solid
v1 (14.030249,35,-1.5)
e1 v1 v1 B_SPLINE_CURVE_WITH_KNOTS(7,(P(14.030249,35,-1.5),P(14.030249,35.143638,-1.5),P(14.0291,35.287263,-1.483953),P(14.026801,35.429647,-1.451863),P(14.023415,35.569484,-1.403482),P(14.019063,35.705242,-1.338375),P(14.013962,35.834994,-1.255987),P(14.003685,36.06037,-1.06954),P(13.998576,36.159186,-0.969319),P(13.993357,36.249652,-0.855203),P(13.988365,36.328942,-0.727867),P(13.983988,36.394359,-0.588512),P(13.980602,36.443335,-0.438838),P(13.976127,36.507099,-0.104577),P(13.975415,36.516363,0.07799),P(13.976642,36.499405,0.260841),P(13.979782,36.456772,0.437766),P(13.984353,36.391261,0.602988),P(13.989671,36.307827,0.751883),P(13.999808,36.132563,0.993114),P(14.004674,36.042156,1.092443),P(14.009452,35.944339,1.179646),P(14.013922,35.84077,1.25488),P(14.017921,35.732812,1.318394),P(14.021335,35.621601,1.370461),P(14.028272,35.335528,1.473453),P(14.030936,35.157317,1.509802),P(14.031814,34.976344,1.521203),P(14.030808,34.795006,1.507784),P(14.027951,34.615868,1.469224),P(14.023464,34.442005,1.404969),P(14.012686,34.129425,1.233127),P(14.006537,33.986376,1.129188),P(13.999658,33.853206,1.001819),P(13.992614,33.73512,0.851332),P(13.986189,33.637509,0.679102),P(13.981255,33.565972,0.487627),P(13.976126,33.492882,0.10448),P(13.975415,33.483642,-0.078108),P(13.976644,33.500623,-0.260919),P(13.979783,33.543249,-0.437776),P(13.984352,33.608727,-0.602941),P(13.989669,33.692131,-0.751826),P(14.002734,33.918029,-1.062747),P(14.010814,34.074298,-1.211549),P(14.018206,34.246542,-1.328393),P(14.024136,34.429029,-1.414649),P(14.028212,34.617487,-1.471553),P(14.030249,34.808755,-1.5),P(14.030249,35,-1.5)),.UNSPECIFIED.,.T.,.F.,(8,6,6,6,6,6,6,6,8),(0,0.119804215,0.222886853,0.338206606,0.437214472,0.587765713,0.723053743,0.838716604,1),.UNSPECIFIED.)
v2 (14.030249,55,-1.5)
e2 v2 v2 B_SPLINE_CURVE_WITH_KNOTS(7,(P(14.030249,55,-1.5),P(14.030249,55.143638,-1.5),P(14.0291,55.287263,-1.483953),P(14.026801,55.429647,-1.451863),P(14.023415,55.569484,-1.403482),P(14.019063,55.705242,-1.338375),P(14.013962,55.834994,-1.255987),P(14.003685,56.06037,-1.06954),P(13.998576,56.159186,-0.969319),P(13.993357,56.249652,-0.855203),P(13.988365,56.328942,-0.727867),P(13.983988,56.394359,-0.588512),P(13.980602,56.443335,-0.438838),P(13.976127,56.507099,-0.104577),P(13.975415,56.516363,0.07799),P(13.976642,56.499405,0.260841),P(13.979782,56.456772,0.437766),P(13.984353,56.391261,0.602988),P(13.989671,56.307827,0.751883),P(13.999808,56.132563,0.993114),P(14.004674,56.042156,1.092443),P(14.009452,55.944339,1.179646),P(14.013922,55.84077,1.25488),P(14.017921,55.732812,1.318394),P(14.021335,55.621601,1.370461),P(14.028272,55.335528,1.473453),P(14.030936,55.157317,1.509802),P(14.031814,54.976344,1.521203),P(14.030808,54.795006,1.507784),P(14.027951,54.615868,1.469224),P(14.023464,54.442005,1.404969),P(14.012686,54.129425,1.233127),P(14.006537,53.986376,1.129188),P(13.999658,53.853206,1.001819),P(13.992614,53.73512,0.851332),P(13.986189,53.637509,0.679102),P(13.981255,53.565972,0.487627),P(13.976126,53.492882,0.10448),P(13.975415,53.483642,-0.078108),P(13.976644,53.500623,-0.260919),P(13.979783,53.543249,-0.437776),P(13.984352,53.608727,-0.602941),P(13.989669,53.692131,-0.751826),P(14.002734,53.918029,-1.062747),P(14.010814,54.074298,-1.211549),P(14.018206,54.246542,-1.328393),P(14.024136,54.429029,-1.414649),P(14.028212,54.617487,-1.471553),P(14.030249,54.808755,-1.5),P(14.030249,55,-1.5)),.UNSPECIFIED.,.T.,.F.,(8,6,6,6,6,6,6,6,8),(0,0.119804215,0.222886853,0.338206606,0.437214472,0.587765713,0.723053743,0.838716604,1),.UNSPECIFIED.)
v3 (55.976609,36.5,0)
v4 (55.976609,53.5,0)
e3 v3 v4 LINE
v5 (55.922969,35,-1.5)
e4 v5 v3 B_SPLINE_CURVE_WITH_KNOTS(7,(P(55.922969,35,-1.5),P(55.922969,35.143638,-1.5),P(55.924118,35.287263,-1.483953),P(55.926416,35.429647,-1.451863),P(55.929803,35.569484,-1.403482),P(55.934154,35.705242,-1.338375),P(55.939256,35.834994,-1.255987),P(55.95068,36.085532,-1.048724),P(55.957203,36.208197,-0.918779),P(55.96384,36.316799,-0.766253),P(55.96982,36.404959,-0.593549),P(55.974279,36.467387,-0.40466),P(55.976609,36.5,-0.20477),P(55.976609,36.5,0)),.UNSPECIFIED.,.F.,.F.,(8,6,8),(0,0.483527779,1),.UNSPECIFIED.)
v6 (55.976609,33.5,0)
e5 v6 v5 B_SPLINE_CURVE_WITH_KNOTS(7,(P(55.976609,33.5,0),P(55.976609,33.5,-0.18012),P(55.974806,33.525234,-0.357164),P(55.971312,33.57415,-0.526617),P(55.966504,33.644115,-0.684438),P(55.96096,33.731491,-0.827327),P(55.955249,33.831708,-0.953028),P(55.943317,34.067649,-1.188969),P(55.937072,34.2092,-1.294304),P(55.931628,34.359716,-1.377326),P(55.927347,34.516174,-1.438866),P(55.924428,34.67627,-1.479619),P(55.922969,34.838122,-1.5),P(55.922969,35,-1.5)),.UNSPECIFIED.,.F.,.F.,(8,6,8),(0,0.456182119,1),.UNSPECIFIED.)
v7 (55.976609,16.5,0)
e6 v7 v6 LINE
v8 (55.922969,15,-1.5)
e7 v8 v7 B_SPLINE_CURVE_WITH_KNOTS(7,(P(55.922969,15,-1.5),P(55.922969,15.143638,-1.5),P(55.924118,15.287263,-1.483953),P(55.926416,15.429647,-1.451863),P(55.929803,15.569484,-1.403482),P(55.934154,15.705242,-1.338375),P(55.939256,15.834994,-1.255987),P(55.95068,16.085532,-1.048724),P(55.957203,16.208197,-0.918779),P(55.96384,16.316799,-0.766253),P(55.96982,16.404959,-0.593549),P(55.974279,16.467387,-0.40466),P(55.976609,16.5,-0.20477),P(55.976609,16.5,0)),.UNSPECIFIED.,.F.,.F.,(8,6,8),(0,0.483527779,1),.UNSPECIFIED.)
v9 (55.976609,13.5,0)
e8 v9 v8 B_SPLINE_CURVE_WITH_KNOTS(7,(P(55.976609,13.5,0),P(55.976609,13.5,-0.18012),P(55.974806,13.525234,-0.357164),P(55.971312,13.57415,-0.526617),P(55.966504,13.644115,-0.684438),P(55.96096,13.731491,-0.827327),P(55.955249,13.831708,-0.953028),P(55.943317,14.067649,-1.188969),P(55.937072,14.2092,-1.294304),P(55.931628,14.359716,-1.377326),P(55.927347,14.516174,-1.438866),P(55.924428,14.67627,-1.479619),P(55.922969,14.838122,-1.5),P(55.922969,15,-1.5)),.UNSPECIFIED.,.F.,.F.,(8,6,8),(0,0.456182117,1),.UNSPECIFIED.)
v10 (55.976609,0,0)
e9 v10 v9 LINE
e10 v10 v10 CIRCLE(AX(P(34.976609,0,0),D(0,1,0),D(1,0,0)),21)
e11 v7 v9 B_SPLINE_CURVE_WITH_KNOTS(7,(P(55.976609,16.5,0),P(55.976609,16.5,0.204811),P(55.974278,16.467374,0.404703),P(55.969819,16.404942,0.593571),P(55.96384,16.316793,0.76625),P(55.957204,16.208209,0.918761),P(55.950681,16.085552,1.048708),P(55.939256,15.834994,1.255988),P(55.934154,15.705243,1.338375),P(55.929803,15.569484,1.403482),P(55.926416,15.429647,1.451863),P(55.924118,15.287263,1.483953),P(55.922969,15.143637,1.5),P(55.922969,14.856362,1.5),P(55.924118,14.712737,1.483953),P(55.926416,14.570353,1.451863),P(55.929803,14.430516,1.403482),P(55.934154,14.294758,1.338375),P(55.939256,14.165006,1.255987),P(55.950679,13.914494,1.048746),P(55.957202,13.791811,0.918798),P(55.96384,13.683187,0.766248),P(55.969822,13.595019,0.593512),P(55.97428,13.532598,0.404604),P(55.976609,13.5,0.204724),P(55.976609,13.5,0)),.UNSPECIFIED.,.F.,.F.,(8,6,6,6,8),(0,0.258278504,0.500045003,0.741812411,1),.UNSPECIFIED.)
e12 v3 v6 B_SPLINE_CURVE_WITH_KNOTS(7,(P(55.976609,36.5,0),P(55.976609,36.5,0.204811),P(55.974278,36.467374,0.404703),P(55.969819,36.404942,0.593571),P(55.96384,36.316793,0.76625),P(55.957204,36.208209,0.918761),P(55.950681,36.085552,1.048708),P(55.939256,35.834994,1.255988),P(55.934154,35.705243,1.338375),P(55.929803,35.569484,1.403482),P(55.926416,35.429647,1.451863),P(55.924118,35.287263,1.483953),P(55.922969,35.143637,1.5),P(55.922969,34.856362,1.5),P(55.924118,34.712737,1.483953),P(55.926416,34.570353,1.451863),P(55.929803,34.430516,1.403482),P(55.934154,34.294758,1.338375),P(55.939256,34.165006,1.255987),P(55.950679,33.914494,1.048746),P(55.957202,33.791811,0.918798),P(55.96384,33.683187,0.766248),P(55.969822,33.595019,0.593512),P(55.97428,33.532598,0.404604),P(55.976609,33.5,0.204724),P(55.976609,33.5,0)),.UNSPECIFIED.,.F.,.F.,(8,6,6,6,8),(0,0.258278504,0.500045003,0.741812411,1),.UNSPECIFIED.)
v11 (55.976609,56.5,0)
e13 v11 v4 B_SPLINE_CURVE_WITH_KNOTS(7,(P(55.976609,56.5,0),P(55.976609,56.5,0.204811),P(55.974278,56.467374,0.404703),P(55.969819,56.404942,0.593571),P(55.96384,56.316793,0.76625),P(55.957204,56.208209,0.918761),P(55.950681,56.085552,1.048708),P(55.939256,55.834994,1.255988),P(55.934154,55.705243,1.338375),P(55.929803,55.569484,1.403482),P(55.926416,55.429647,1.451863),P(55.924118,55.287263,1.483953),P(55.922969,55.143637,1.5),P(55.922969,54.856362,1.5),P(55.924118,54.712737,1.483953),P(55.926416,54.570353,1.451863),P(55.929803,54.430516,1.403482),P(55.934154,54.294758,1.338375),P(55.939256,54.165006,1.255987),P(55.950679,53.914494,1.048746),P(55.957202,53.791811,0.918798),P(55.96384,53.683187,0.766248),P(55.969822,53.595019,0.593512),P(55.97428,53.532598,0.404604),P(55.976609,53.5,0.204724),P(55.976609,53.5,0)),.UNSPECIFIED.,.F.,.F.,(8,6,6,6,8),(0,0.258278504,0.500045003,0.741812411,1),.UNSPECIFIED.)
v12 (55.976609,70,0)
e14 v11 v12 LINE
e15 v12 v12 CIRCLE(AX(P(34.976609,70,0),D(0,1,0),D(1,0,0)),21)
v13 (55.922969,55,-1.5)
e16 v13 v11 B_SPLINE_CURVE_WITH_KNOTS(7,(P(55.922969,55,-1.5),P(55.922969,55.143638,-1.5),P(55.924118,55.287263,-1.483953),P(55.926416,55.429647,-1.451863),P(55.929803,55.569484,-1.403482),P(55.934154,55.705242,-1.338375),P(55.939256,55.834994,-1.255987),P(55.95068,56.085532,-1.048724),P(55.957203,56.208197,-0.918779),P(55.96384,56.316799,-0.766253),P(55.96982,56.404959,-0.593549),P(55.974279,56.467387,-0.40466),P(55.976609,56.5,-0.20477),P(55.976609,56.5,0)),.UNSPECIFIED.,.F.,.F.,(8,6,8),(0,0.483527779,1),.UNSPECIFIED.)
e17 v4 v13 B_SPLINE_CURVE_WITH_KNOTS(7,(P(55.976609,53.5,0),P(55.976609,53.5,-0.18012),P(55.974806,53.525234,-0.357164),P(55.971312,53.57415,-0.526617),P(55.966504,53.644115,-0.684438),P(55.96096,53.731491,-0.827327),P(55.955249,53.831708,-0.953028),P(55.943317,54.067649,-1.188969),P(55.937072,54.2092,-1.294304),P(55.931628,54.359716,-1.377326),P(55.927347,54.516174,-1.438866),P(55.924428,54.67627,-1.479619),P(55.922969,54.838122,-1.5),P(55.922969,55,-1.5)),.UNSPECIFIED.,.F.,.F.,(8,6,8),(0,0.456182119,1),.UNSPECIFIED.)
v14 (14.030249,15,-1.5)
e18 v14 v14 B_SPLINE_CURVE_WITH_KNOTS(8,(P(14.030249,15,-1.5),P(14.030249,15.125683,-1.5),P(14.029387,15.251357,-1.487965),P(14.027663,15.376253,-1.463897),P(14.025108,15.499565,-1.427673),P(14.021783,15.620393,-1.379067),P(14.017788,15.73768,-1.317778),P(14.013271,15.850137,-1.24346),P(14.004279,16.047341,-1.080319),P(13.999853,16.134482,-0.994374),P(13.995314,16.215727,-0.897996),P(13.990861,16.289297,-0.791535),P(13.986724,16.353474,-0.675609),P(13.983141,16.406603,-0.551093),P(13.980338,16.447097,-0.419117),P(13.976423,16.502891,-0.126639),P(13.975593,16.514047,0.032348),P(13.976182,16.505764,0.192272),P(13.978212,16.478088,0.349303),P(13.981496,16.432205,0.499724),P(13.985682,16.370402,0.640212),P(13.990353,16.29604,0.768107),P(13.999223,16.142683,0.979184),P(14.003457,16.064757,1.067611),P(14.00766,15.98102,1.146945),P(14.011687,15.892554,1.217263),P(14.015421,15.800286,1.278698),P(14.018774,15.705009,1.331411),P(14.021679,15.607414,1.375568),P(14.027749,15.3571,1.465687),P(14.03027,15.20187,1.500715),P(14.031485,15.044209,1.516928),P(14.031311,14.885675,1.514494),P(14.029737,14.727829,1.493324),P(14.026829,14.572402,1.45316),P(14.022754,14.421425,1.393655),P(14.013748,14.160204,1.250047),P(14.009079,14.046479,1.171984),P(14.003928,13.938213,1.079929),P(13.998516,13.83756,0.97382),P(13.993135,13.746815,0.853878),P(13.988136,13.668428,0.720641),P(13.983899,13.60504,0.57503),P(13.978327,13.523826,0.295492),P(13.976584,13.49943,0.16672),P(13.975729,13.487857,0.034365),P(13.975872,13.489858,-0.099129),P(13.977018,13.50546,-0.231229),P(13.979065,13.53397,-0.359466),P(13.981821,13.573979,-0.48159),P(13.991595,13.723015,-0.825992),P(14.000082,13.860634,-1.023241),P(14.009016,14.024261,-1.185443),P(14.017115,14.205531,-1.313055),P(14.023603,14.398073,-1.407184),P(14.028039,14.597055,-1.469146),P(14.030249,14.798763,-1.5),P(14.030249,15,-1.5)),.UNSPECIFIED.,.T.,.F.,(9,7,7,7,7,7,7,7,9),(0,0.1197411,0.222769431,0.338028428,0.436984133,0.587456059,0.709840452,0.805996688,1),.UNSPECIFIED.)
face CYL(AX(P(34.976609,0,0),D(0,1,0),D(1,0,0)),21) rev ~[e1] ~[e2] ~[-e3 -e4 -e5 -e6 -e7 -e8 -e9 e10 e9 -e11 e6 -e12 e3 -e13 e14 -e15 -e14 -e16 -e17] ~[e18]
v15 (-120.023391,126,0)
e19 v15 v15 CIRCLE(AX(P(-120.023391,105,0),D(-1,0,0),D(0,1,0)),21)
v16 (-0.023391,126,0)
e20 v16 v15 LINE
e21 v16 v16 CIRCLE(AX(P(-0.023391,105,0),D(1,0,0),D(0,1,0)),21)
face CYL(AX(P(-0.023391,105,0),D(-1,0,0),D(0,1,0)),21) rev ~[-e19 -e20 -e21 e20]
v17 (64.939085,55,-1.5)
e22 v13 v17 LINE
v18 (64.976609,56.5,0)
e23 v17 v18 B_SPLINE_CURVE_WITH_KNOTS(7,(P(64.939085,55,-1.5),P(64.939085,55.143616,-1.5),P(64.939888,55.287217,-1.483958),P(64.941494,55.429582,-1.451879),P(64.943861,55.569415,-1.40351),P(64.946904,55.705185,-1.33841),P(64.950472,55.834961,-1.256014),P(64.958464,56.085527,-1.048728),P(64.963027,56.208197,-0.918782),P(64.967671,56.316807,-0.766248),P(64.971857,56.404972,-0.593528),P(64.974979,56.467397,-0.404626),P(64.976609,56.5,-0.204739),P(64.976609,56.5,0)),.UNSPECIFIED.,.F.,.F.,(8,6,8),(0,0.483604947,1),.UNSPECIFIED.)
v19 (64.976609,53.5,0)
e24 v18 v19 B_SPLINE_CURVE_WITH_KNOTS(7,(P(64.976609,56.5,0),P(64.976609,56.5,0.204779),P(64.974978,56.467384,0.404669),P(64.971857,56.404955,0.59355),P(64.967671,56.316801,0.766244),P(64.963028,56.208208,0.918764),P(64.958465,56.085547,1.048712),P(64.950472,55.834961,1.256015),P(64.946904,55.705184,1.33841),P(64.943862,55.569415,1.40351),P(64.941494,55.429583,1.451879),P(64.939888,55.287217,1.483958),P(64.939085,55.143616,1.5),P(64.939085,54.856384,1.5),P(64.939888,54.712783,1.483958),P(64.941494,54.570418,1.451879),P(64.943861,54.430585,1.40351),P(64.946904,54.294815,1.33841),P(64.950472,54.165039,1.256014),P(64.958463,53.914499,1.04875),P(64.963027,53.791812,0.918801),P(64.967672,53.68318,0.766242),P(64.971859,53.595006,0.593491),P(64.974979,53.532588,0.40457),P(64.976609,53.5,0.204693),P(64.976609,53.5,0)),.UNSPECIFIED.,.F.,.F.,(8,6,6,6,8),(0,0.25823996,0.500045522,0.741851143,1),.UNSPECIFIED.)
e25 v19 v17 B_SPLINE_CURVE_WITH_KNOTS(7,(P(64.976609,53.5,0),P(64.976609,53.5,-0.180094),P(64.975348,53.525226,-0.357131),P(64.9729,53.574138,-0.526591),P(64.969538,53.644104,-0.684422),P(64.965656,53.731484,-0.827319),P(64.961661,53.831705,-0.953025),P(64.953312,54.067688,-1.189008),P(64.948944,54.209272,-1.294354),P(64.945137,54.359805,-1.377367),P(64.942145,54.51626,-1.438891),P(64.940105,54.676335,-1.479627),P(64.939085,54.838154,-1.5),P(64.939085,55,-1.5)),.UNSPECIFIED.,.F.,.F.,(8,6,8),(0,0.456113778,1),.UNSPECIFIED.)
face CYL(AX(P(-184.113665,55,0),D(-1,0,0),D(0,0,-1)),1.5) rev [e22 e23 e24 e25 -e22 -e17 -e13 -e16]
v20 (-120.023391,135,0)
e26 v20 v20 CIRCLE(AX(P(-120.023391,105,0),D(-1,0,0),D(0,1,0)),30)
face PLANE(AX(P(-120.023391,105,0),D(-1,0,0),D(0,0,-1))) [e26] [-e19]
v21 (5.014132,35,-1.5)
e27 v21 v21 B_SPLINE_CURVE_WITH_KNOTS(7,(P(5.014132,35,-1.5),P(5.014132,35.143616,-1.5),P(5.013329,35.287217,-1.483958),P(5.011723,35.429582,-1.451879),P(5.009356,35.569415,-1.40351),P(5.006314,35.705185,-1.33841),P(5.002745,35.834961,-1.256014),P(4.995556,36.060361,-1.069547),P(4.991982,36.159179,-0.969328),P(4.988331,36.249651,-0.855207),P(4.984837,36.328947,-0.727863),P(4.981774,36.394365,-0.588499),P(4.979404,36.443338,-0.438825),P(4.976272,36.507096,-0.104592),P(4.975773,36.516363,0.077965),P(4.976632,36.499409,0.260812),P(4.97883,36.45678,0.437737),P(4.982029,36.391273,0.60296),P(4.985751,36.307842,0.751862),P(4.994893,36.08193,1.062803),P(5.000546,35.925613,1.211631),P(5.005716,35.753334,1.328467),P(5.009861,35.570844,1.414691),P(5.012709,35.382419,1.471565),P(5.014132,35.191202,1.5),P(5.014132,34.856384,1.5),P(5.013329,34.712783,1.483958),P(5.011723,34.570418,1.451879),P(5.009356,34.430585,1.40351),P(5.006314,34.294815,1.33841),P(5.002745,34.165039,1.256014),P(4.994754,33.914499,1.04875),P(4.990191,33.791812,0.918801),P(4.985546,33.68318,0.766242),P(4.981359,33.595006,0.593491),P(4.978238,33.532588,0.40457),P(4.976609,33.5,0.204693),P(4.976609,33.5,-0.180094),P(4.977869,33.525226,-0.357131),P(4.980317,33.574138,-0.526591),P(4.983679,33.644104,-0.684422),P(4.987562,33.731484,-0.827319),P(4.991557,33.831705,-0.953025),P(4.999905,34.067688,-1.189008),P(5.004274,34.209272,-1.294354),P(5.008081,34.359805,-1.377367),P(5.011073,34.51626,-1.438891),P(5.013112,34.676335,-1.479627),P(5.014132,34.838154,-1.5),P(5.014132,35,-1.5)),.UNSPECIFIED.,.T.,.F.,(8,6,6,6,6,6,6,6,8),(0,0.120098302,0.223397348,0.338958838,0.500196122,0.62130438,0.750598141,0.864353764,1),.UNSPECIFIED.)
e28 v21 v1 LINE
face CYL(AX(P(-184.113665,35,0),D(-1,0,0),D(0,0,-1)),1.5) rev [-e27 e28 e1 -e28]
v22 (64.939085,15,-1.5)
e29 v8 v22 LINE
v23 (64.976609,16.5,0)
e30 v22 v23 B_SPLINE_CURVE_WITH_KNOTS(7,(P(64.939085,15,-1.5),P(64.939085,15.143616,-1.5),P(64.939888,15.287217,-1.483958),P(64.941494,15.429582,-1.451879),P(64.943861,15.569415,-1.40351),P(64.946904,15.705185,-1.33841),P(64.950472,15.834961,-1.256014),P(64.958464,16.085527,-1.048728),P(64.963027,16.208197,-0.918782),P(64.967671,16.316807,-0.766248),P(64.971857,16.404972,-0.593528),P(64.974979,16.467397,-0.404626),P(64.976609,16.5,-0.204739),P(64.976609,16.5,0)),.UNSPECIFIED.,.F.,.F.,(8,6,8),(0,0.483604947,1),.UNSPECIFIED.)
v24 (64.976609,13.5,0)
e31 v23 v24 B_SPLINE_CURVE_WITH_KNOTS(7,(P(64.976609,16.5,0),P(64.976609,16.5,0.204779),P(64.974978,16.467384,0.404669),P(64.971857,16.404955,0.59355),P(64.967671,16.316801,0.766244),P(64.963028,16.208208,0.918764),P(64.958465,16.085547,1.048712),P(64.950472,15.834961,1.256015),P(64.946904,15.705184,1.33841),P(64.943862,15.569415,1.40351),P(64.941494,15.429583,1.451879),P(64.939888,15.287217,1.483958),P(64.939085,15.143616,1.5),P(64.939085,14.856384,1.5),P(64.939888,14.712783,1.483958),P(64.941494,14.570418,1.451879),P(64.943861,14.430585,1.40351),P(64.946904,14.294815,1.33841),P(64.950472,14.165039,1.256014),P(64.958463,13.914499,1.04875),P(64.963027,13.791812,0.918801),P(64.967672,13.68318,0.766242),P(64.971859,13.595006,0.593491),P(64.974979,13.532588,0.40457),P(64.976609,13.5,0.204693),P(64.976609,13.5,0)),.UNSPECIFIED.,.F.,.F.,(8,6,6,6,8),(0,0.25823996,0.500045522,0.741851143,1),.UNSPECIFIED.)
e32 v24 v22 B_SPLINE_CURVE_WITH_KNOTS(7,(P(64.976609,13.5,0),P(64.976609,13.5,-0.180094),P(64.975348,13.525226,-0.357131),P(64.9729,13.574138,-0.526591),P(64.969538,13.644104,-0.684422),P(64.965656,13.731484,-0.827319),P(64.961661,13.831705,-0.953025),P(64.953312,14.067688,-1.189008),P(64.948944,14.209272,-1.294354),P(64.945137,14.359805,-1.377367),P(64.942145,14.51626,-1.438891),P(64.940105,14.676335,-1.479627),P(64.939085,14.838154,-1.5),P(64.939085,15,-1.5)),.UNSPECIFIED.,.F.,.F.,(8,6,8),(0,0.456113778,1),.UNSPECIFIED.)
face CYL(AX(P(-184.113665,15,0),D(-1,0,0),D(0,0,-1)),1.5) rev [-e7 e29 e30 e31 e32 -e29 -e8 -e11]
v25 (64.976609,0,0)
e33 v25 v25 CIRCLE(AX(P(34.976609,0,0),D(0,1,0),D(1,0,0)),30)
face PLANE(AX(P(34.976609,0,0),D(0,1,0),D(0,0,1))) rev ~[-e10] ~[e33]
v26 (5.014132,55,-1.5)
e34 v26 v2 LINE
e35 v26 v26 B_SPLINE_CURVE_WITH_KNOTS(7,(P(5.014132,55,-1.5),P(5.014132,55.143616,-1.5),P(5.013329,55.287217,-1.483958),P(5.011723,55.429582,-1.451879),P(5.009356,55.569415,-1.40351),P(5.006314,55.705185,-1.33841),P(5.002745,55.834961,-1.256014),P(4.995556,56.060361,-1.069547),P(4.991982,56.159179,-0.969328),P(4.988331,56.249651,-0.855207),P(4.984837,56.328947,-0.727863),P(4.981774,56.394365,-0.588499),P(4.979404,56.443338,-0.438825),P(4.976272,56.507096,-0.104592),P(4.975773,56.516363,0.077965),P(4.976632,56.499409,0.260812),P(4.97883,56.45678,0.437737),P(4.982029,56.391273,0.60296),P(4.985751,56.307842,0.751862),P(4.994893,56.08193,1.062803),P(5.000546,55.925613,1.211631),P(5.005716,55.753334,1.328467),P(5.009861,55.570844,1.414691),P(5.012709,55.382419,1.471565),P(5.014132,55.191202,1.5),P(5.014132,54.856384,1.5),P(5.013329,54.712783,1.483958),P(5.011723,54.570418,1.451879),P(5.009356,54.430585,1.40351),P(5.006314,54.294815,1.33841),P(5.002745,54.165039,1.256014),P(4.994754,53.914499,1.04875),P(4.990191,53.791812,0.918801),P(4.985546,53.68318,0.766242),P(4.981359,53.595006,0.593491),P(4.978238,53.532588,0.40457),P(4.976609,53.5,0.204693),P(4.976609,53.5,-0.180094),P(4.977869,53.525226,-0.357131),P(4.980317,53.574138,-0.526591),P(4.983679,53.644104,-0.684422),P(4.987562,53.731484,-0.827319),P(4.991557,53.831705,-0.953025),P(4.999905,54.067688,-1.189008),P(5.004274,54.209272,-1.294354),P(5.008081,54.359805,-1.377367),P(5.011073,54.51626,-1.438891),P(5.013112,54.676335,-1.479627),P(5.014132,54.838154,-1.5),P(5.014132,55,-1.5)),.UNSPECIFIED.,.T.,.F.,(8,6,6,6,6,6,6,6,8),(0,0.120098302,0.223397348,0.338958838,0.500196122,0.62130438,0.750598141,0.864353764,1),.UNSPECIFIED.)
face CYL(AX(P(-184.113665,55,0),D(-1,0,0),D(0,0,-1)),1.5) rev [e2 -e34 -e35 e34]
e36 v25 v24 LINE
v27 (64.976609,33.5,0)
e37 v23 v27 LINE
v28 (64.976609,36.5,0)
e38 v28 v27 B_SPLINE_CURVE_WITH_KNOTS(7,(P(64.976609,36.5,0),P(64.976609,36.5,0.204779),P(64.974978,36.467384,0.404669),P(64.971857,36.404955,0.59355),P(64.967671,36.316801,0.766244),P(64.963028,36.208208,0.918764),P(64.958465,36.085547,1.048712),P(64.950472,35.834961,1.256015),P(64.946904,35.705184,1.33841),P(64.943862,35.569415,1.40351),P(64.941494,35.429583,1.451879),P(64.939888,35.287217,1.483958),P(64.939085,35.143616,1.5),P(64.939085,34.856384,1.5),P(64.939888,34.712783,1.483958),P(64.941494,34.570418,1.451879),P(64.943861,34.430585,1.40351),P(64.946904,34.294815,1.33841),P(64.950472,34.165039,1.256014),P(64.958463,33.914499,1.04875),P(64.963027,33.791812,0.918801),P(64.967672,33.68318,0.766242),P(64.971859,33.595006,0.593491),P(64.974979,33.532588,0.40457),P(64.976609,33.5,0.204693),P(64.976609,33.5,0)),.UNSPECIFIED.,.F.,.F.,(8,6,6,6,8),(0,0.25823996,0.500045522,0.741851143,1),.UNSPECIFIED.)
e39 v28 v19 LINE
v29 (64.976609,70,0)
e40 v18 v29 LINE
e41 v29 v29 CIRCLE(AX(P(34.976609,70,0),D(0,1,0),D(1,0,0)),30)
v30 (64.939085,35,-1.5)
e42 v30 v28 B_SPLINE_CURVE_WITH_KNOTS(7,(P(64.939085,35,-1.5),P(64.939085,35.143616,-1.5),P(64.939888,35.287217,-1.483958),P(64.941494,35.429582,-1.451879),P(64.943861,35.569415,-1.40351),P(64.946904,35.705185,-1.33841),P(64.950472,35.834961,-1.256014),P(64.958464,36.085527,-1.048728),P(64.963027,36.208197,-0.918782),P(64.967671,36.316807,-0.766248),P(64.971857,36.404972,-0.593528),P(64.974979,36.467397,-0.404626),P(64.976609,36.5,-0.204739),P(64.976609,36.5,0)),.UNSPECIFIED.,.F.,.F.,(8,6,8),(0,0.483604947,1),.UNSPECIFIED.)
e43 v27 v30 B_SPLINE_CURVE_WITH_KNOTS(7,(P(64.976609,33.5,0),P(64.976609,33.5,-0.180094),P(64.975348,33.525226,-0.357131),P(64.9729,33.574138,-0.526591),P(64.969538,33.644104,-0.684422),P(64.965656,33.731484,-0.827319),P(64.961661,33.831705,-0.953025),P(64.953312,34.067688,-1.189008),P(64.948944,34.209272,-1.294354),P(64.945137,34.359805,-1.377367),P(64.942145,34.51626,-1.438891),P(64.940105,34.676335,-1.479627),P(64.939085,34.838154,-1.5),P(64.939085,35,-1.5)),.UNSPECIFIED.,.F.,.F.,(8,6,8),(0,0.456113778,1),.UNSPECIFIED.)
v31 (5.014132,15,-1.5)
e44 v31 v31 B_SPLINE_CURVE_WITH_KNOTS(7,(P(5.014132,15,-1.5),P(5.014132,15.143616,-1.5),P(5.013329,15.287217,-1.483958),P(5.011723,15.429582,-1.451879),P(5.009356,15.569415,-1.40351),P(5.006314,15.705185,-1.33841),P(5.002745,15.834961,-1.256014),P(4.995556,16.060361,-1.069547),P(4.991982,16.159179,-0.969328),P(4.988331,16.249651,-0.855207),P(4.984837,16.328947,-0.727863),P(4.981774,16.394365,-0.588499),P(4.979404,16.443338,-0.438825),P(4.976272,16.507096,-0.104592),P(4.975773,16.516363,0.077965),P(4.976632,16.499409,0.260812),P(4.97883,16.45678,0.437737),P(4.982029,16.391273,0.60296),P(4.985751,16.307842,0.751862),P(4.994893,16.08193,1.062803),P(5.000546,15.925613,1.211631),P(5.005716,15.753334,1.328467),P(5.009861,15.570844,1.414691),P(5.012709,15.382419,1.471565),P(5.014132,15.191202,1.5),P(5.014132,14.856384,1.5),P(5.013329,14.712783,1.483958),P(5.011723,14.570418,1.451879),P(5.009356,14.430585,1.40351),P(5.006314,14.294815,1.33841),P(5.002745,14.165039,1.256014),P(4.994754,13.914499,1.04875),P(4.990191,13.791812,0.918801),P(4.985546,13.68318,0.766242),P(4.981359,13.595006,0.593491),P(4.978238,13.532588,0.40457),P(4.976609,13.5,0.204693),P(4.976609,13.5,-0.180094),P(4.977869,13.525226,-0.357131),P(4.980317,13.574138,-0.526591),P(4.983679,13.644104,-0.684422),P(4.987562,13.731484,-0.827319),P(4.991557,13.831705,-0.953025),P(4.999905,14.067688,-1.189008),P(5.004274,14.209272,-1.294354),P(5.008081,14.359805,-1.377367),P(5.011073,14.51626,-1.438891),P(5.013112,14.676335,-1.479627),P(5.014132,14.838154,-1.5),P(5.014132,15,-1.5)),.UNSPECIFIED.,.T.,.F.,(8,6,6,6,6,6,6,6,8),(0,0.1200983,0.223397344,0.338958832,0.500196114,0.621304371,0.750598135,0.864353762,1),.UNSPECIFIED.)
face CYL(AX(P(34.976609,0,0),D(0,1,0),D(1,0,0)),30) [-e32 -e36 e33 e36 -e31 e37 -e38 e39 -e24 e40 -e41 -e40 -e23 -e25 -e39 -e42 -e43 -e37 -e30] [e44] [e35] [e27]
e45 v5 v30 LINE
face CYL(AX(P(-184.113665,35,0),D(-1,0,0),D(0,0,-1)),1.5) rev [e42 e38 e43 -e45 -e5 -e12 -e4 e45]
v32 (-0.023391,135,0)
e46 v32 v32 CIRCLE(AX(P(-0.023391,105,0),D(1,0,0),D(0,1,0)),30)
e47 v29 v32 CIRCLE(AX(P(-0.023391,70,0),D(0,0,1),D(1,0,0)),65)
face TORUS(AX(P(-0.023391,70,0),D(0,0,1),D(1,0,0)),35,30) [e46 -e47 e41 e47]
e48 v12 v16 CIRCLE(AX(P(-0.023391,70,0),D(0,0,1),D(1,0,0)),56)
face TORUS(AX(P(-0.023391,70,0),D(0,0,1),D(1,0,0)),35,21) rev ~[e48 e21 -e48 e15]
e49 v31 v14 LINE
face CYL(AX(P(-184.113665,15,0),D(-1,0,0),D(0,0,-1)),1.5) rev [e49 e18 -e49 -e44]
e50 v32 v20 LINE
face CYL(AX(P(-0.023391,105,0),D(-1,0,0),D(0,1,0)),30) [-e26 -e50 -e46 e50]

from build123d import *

# Parameters (mm, degrees)
SKETCH2_R               = 30
SHELL15_T               = -9
CUT_EXTRUDE2_DEPTH      = 184.113665481
CUT_EXTRUDE2_DEPTH_BACK = 184.113665481
SKETCH4_R               = 1.5


with BuildPart() as part:
    # Sweep1: sweep along a path in Sketch1
    with BuildLine(Plane.XY) as sweep1_path:
        Line((34.976608727, 0), (34.976608727, 70))
        ThreePointArc((34.976608727, 70), (24.725346068, 94.748737342), (-0.023391273, 105))
        Line((-0.023391273, 105), (-120.023391273, 105))
    # Sketch2 → Sweep1 (sweep)
    with BuildSketch(Plane(origin=(0, 0, 0), x_dir=(1, 0, 0), z_dir=(0, 1, 0))):
        with Locations((34.976608727, 0)):
            Circle(SKETCH2_R)
    sweep(path=sweep1_path.line)

    # Shell15
    shell15_openings = [part.faces().sort_by_distance(p)[0] for p in [
        (-120.023391273, 105, 0),
        (34.976608727, 0, 0),
    ]]
    offset(amount=SHELL15_T, openings=shell15_openings, kind=Kind.INTERSECTION)

    # Sketch4 → Cut-Extrude2 (cut, two sides: drawn at the far end of the back side and taken through both)
    with BuildSketch(Plane(origin=(0, 0, 0), x_dir=(0, 0, -1), z_dir=(1, 0, 0)).offset(-CUT_EXTRUDE2_DEPTH_BACK)):
        with Locations((0, 35)):
            Circle(SKETCH4_R)
        with Locations((0, 55)):
            Circle(SKETCH4_R)
        with Locations((0, 15)):
            Circle(SKETCH4_R)
    extrude(amount=CUT_EXTRUDE2_DEPTH + CUT_EXTRUDE2_DEPTH_BACK, mode=Mode.SUBTRACT)


solid = part.part
